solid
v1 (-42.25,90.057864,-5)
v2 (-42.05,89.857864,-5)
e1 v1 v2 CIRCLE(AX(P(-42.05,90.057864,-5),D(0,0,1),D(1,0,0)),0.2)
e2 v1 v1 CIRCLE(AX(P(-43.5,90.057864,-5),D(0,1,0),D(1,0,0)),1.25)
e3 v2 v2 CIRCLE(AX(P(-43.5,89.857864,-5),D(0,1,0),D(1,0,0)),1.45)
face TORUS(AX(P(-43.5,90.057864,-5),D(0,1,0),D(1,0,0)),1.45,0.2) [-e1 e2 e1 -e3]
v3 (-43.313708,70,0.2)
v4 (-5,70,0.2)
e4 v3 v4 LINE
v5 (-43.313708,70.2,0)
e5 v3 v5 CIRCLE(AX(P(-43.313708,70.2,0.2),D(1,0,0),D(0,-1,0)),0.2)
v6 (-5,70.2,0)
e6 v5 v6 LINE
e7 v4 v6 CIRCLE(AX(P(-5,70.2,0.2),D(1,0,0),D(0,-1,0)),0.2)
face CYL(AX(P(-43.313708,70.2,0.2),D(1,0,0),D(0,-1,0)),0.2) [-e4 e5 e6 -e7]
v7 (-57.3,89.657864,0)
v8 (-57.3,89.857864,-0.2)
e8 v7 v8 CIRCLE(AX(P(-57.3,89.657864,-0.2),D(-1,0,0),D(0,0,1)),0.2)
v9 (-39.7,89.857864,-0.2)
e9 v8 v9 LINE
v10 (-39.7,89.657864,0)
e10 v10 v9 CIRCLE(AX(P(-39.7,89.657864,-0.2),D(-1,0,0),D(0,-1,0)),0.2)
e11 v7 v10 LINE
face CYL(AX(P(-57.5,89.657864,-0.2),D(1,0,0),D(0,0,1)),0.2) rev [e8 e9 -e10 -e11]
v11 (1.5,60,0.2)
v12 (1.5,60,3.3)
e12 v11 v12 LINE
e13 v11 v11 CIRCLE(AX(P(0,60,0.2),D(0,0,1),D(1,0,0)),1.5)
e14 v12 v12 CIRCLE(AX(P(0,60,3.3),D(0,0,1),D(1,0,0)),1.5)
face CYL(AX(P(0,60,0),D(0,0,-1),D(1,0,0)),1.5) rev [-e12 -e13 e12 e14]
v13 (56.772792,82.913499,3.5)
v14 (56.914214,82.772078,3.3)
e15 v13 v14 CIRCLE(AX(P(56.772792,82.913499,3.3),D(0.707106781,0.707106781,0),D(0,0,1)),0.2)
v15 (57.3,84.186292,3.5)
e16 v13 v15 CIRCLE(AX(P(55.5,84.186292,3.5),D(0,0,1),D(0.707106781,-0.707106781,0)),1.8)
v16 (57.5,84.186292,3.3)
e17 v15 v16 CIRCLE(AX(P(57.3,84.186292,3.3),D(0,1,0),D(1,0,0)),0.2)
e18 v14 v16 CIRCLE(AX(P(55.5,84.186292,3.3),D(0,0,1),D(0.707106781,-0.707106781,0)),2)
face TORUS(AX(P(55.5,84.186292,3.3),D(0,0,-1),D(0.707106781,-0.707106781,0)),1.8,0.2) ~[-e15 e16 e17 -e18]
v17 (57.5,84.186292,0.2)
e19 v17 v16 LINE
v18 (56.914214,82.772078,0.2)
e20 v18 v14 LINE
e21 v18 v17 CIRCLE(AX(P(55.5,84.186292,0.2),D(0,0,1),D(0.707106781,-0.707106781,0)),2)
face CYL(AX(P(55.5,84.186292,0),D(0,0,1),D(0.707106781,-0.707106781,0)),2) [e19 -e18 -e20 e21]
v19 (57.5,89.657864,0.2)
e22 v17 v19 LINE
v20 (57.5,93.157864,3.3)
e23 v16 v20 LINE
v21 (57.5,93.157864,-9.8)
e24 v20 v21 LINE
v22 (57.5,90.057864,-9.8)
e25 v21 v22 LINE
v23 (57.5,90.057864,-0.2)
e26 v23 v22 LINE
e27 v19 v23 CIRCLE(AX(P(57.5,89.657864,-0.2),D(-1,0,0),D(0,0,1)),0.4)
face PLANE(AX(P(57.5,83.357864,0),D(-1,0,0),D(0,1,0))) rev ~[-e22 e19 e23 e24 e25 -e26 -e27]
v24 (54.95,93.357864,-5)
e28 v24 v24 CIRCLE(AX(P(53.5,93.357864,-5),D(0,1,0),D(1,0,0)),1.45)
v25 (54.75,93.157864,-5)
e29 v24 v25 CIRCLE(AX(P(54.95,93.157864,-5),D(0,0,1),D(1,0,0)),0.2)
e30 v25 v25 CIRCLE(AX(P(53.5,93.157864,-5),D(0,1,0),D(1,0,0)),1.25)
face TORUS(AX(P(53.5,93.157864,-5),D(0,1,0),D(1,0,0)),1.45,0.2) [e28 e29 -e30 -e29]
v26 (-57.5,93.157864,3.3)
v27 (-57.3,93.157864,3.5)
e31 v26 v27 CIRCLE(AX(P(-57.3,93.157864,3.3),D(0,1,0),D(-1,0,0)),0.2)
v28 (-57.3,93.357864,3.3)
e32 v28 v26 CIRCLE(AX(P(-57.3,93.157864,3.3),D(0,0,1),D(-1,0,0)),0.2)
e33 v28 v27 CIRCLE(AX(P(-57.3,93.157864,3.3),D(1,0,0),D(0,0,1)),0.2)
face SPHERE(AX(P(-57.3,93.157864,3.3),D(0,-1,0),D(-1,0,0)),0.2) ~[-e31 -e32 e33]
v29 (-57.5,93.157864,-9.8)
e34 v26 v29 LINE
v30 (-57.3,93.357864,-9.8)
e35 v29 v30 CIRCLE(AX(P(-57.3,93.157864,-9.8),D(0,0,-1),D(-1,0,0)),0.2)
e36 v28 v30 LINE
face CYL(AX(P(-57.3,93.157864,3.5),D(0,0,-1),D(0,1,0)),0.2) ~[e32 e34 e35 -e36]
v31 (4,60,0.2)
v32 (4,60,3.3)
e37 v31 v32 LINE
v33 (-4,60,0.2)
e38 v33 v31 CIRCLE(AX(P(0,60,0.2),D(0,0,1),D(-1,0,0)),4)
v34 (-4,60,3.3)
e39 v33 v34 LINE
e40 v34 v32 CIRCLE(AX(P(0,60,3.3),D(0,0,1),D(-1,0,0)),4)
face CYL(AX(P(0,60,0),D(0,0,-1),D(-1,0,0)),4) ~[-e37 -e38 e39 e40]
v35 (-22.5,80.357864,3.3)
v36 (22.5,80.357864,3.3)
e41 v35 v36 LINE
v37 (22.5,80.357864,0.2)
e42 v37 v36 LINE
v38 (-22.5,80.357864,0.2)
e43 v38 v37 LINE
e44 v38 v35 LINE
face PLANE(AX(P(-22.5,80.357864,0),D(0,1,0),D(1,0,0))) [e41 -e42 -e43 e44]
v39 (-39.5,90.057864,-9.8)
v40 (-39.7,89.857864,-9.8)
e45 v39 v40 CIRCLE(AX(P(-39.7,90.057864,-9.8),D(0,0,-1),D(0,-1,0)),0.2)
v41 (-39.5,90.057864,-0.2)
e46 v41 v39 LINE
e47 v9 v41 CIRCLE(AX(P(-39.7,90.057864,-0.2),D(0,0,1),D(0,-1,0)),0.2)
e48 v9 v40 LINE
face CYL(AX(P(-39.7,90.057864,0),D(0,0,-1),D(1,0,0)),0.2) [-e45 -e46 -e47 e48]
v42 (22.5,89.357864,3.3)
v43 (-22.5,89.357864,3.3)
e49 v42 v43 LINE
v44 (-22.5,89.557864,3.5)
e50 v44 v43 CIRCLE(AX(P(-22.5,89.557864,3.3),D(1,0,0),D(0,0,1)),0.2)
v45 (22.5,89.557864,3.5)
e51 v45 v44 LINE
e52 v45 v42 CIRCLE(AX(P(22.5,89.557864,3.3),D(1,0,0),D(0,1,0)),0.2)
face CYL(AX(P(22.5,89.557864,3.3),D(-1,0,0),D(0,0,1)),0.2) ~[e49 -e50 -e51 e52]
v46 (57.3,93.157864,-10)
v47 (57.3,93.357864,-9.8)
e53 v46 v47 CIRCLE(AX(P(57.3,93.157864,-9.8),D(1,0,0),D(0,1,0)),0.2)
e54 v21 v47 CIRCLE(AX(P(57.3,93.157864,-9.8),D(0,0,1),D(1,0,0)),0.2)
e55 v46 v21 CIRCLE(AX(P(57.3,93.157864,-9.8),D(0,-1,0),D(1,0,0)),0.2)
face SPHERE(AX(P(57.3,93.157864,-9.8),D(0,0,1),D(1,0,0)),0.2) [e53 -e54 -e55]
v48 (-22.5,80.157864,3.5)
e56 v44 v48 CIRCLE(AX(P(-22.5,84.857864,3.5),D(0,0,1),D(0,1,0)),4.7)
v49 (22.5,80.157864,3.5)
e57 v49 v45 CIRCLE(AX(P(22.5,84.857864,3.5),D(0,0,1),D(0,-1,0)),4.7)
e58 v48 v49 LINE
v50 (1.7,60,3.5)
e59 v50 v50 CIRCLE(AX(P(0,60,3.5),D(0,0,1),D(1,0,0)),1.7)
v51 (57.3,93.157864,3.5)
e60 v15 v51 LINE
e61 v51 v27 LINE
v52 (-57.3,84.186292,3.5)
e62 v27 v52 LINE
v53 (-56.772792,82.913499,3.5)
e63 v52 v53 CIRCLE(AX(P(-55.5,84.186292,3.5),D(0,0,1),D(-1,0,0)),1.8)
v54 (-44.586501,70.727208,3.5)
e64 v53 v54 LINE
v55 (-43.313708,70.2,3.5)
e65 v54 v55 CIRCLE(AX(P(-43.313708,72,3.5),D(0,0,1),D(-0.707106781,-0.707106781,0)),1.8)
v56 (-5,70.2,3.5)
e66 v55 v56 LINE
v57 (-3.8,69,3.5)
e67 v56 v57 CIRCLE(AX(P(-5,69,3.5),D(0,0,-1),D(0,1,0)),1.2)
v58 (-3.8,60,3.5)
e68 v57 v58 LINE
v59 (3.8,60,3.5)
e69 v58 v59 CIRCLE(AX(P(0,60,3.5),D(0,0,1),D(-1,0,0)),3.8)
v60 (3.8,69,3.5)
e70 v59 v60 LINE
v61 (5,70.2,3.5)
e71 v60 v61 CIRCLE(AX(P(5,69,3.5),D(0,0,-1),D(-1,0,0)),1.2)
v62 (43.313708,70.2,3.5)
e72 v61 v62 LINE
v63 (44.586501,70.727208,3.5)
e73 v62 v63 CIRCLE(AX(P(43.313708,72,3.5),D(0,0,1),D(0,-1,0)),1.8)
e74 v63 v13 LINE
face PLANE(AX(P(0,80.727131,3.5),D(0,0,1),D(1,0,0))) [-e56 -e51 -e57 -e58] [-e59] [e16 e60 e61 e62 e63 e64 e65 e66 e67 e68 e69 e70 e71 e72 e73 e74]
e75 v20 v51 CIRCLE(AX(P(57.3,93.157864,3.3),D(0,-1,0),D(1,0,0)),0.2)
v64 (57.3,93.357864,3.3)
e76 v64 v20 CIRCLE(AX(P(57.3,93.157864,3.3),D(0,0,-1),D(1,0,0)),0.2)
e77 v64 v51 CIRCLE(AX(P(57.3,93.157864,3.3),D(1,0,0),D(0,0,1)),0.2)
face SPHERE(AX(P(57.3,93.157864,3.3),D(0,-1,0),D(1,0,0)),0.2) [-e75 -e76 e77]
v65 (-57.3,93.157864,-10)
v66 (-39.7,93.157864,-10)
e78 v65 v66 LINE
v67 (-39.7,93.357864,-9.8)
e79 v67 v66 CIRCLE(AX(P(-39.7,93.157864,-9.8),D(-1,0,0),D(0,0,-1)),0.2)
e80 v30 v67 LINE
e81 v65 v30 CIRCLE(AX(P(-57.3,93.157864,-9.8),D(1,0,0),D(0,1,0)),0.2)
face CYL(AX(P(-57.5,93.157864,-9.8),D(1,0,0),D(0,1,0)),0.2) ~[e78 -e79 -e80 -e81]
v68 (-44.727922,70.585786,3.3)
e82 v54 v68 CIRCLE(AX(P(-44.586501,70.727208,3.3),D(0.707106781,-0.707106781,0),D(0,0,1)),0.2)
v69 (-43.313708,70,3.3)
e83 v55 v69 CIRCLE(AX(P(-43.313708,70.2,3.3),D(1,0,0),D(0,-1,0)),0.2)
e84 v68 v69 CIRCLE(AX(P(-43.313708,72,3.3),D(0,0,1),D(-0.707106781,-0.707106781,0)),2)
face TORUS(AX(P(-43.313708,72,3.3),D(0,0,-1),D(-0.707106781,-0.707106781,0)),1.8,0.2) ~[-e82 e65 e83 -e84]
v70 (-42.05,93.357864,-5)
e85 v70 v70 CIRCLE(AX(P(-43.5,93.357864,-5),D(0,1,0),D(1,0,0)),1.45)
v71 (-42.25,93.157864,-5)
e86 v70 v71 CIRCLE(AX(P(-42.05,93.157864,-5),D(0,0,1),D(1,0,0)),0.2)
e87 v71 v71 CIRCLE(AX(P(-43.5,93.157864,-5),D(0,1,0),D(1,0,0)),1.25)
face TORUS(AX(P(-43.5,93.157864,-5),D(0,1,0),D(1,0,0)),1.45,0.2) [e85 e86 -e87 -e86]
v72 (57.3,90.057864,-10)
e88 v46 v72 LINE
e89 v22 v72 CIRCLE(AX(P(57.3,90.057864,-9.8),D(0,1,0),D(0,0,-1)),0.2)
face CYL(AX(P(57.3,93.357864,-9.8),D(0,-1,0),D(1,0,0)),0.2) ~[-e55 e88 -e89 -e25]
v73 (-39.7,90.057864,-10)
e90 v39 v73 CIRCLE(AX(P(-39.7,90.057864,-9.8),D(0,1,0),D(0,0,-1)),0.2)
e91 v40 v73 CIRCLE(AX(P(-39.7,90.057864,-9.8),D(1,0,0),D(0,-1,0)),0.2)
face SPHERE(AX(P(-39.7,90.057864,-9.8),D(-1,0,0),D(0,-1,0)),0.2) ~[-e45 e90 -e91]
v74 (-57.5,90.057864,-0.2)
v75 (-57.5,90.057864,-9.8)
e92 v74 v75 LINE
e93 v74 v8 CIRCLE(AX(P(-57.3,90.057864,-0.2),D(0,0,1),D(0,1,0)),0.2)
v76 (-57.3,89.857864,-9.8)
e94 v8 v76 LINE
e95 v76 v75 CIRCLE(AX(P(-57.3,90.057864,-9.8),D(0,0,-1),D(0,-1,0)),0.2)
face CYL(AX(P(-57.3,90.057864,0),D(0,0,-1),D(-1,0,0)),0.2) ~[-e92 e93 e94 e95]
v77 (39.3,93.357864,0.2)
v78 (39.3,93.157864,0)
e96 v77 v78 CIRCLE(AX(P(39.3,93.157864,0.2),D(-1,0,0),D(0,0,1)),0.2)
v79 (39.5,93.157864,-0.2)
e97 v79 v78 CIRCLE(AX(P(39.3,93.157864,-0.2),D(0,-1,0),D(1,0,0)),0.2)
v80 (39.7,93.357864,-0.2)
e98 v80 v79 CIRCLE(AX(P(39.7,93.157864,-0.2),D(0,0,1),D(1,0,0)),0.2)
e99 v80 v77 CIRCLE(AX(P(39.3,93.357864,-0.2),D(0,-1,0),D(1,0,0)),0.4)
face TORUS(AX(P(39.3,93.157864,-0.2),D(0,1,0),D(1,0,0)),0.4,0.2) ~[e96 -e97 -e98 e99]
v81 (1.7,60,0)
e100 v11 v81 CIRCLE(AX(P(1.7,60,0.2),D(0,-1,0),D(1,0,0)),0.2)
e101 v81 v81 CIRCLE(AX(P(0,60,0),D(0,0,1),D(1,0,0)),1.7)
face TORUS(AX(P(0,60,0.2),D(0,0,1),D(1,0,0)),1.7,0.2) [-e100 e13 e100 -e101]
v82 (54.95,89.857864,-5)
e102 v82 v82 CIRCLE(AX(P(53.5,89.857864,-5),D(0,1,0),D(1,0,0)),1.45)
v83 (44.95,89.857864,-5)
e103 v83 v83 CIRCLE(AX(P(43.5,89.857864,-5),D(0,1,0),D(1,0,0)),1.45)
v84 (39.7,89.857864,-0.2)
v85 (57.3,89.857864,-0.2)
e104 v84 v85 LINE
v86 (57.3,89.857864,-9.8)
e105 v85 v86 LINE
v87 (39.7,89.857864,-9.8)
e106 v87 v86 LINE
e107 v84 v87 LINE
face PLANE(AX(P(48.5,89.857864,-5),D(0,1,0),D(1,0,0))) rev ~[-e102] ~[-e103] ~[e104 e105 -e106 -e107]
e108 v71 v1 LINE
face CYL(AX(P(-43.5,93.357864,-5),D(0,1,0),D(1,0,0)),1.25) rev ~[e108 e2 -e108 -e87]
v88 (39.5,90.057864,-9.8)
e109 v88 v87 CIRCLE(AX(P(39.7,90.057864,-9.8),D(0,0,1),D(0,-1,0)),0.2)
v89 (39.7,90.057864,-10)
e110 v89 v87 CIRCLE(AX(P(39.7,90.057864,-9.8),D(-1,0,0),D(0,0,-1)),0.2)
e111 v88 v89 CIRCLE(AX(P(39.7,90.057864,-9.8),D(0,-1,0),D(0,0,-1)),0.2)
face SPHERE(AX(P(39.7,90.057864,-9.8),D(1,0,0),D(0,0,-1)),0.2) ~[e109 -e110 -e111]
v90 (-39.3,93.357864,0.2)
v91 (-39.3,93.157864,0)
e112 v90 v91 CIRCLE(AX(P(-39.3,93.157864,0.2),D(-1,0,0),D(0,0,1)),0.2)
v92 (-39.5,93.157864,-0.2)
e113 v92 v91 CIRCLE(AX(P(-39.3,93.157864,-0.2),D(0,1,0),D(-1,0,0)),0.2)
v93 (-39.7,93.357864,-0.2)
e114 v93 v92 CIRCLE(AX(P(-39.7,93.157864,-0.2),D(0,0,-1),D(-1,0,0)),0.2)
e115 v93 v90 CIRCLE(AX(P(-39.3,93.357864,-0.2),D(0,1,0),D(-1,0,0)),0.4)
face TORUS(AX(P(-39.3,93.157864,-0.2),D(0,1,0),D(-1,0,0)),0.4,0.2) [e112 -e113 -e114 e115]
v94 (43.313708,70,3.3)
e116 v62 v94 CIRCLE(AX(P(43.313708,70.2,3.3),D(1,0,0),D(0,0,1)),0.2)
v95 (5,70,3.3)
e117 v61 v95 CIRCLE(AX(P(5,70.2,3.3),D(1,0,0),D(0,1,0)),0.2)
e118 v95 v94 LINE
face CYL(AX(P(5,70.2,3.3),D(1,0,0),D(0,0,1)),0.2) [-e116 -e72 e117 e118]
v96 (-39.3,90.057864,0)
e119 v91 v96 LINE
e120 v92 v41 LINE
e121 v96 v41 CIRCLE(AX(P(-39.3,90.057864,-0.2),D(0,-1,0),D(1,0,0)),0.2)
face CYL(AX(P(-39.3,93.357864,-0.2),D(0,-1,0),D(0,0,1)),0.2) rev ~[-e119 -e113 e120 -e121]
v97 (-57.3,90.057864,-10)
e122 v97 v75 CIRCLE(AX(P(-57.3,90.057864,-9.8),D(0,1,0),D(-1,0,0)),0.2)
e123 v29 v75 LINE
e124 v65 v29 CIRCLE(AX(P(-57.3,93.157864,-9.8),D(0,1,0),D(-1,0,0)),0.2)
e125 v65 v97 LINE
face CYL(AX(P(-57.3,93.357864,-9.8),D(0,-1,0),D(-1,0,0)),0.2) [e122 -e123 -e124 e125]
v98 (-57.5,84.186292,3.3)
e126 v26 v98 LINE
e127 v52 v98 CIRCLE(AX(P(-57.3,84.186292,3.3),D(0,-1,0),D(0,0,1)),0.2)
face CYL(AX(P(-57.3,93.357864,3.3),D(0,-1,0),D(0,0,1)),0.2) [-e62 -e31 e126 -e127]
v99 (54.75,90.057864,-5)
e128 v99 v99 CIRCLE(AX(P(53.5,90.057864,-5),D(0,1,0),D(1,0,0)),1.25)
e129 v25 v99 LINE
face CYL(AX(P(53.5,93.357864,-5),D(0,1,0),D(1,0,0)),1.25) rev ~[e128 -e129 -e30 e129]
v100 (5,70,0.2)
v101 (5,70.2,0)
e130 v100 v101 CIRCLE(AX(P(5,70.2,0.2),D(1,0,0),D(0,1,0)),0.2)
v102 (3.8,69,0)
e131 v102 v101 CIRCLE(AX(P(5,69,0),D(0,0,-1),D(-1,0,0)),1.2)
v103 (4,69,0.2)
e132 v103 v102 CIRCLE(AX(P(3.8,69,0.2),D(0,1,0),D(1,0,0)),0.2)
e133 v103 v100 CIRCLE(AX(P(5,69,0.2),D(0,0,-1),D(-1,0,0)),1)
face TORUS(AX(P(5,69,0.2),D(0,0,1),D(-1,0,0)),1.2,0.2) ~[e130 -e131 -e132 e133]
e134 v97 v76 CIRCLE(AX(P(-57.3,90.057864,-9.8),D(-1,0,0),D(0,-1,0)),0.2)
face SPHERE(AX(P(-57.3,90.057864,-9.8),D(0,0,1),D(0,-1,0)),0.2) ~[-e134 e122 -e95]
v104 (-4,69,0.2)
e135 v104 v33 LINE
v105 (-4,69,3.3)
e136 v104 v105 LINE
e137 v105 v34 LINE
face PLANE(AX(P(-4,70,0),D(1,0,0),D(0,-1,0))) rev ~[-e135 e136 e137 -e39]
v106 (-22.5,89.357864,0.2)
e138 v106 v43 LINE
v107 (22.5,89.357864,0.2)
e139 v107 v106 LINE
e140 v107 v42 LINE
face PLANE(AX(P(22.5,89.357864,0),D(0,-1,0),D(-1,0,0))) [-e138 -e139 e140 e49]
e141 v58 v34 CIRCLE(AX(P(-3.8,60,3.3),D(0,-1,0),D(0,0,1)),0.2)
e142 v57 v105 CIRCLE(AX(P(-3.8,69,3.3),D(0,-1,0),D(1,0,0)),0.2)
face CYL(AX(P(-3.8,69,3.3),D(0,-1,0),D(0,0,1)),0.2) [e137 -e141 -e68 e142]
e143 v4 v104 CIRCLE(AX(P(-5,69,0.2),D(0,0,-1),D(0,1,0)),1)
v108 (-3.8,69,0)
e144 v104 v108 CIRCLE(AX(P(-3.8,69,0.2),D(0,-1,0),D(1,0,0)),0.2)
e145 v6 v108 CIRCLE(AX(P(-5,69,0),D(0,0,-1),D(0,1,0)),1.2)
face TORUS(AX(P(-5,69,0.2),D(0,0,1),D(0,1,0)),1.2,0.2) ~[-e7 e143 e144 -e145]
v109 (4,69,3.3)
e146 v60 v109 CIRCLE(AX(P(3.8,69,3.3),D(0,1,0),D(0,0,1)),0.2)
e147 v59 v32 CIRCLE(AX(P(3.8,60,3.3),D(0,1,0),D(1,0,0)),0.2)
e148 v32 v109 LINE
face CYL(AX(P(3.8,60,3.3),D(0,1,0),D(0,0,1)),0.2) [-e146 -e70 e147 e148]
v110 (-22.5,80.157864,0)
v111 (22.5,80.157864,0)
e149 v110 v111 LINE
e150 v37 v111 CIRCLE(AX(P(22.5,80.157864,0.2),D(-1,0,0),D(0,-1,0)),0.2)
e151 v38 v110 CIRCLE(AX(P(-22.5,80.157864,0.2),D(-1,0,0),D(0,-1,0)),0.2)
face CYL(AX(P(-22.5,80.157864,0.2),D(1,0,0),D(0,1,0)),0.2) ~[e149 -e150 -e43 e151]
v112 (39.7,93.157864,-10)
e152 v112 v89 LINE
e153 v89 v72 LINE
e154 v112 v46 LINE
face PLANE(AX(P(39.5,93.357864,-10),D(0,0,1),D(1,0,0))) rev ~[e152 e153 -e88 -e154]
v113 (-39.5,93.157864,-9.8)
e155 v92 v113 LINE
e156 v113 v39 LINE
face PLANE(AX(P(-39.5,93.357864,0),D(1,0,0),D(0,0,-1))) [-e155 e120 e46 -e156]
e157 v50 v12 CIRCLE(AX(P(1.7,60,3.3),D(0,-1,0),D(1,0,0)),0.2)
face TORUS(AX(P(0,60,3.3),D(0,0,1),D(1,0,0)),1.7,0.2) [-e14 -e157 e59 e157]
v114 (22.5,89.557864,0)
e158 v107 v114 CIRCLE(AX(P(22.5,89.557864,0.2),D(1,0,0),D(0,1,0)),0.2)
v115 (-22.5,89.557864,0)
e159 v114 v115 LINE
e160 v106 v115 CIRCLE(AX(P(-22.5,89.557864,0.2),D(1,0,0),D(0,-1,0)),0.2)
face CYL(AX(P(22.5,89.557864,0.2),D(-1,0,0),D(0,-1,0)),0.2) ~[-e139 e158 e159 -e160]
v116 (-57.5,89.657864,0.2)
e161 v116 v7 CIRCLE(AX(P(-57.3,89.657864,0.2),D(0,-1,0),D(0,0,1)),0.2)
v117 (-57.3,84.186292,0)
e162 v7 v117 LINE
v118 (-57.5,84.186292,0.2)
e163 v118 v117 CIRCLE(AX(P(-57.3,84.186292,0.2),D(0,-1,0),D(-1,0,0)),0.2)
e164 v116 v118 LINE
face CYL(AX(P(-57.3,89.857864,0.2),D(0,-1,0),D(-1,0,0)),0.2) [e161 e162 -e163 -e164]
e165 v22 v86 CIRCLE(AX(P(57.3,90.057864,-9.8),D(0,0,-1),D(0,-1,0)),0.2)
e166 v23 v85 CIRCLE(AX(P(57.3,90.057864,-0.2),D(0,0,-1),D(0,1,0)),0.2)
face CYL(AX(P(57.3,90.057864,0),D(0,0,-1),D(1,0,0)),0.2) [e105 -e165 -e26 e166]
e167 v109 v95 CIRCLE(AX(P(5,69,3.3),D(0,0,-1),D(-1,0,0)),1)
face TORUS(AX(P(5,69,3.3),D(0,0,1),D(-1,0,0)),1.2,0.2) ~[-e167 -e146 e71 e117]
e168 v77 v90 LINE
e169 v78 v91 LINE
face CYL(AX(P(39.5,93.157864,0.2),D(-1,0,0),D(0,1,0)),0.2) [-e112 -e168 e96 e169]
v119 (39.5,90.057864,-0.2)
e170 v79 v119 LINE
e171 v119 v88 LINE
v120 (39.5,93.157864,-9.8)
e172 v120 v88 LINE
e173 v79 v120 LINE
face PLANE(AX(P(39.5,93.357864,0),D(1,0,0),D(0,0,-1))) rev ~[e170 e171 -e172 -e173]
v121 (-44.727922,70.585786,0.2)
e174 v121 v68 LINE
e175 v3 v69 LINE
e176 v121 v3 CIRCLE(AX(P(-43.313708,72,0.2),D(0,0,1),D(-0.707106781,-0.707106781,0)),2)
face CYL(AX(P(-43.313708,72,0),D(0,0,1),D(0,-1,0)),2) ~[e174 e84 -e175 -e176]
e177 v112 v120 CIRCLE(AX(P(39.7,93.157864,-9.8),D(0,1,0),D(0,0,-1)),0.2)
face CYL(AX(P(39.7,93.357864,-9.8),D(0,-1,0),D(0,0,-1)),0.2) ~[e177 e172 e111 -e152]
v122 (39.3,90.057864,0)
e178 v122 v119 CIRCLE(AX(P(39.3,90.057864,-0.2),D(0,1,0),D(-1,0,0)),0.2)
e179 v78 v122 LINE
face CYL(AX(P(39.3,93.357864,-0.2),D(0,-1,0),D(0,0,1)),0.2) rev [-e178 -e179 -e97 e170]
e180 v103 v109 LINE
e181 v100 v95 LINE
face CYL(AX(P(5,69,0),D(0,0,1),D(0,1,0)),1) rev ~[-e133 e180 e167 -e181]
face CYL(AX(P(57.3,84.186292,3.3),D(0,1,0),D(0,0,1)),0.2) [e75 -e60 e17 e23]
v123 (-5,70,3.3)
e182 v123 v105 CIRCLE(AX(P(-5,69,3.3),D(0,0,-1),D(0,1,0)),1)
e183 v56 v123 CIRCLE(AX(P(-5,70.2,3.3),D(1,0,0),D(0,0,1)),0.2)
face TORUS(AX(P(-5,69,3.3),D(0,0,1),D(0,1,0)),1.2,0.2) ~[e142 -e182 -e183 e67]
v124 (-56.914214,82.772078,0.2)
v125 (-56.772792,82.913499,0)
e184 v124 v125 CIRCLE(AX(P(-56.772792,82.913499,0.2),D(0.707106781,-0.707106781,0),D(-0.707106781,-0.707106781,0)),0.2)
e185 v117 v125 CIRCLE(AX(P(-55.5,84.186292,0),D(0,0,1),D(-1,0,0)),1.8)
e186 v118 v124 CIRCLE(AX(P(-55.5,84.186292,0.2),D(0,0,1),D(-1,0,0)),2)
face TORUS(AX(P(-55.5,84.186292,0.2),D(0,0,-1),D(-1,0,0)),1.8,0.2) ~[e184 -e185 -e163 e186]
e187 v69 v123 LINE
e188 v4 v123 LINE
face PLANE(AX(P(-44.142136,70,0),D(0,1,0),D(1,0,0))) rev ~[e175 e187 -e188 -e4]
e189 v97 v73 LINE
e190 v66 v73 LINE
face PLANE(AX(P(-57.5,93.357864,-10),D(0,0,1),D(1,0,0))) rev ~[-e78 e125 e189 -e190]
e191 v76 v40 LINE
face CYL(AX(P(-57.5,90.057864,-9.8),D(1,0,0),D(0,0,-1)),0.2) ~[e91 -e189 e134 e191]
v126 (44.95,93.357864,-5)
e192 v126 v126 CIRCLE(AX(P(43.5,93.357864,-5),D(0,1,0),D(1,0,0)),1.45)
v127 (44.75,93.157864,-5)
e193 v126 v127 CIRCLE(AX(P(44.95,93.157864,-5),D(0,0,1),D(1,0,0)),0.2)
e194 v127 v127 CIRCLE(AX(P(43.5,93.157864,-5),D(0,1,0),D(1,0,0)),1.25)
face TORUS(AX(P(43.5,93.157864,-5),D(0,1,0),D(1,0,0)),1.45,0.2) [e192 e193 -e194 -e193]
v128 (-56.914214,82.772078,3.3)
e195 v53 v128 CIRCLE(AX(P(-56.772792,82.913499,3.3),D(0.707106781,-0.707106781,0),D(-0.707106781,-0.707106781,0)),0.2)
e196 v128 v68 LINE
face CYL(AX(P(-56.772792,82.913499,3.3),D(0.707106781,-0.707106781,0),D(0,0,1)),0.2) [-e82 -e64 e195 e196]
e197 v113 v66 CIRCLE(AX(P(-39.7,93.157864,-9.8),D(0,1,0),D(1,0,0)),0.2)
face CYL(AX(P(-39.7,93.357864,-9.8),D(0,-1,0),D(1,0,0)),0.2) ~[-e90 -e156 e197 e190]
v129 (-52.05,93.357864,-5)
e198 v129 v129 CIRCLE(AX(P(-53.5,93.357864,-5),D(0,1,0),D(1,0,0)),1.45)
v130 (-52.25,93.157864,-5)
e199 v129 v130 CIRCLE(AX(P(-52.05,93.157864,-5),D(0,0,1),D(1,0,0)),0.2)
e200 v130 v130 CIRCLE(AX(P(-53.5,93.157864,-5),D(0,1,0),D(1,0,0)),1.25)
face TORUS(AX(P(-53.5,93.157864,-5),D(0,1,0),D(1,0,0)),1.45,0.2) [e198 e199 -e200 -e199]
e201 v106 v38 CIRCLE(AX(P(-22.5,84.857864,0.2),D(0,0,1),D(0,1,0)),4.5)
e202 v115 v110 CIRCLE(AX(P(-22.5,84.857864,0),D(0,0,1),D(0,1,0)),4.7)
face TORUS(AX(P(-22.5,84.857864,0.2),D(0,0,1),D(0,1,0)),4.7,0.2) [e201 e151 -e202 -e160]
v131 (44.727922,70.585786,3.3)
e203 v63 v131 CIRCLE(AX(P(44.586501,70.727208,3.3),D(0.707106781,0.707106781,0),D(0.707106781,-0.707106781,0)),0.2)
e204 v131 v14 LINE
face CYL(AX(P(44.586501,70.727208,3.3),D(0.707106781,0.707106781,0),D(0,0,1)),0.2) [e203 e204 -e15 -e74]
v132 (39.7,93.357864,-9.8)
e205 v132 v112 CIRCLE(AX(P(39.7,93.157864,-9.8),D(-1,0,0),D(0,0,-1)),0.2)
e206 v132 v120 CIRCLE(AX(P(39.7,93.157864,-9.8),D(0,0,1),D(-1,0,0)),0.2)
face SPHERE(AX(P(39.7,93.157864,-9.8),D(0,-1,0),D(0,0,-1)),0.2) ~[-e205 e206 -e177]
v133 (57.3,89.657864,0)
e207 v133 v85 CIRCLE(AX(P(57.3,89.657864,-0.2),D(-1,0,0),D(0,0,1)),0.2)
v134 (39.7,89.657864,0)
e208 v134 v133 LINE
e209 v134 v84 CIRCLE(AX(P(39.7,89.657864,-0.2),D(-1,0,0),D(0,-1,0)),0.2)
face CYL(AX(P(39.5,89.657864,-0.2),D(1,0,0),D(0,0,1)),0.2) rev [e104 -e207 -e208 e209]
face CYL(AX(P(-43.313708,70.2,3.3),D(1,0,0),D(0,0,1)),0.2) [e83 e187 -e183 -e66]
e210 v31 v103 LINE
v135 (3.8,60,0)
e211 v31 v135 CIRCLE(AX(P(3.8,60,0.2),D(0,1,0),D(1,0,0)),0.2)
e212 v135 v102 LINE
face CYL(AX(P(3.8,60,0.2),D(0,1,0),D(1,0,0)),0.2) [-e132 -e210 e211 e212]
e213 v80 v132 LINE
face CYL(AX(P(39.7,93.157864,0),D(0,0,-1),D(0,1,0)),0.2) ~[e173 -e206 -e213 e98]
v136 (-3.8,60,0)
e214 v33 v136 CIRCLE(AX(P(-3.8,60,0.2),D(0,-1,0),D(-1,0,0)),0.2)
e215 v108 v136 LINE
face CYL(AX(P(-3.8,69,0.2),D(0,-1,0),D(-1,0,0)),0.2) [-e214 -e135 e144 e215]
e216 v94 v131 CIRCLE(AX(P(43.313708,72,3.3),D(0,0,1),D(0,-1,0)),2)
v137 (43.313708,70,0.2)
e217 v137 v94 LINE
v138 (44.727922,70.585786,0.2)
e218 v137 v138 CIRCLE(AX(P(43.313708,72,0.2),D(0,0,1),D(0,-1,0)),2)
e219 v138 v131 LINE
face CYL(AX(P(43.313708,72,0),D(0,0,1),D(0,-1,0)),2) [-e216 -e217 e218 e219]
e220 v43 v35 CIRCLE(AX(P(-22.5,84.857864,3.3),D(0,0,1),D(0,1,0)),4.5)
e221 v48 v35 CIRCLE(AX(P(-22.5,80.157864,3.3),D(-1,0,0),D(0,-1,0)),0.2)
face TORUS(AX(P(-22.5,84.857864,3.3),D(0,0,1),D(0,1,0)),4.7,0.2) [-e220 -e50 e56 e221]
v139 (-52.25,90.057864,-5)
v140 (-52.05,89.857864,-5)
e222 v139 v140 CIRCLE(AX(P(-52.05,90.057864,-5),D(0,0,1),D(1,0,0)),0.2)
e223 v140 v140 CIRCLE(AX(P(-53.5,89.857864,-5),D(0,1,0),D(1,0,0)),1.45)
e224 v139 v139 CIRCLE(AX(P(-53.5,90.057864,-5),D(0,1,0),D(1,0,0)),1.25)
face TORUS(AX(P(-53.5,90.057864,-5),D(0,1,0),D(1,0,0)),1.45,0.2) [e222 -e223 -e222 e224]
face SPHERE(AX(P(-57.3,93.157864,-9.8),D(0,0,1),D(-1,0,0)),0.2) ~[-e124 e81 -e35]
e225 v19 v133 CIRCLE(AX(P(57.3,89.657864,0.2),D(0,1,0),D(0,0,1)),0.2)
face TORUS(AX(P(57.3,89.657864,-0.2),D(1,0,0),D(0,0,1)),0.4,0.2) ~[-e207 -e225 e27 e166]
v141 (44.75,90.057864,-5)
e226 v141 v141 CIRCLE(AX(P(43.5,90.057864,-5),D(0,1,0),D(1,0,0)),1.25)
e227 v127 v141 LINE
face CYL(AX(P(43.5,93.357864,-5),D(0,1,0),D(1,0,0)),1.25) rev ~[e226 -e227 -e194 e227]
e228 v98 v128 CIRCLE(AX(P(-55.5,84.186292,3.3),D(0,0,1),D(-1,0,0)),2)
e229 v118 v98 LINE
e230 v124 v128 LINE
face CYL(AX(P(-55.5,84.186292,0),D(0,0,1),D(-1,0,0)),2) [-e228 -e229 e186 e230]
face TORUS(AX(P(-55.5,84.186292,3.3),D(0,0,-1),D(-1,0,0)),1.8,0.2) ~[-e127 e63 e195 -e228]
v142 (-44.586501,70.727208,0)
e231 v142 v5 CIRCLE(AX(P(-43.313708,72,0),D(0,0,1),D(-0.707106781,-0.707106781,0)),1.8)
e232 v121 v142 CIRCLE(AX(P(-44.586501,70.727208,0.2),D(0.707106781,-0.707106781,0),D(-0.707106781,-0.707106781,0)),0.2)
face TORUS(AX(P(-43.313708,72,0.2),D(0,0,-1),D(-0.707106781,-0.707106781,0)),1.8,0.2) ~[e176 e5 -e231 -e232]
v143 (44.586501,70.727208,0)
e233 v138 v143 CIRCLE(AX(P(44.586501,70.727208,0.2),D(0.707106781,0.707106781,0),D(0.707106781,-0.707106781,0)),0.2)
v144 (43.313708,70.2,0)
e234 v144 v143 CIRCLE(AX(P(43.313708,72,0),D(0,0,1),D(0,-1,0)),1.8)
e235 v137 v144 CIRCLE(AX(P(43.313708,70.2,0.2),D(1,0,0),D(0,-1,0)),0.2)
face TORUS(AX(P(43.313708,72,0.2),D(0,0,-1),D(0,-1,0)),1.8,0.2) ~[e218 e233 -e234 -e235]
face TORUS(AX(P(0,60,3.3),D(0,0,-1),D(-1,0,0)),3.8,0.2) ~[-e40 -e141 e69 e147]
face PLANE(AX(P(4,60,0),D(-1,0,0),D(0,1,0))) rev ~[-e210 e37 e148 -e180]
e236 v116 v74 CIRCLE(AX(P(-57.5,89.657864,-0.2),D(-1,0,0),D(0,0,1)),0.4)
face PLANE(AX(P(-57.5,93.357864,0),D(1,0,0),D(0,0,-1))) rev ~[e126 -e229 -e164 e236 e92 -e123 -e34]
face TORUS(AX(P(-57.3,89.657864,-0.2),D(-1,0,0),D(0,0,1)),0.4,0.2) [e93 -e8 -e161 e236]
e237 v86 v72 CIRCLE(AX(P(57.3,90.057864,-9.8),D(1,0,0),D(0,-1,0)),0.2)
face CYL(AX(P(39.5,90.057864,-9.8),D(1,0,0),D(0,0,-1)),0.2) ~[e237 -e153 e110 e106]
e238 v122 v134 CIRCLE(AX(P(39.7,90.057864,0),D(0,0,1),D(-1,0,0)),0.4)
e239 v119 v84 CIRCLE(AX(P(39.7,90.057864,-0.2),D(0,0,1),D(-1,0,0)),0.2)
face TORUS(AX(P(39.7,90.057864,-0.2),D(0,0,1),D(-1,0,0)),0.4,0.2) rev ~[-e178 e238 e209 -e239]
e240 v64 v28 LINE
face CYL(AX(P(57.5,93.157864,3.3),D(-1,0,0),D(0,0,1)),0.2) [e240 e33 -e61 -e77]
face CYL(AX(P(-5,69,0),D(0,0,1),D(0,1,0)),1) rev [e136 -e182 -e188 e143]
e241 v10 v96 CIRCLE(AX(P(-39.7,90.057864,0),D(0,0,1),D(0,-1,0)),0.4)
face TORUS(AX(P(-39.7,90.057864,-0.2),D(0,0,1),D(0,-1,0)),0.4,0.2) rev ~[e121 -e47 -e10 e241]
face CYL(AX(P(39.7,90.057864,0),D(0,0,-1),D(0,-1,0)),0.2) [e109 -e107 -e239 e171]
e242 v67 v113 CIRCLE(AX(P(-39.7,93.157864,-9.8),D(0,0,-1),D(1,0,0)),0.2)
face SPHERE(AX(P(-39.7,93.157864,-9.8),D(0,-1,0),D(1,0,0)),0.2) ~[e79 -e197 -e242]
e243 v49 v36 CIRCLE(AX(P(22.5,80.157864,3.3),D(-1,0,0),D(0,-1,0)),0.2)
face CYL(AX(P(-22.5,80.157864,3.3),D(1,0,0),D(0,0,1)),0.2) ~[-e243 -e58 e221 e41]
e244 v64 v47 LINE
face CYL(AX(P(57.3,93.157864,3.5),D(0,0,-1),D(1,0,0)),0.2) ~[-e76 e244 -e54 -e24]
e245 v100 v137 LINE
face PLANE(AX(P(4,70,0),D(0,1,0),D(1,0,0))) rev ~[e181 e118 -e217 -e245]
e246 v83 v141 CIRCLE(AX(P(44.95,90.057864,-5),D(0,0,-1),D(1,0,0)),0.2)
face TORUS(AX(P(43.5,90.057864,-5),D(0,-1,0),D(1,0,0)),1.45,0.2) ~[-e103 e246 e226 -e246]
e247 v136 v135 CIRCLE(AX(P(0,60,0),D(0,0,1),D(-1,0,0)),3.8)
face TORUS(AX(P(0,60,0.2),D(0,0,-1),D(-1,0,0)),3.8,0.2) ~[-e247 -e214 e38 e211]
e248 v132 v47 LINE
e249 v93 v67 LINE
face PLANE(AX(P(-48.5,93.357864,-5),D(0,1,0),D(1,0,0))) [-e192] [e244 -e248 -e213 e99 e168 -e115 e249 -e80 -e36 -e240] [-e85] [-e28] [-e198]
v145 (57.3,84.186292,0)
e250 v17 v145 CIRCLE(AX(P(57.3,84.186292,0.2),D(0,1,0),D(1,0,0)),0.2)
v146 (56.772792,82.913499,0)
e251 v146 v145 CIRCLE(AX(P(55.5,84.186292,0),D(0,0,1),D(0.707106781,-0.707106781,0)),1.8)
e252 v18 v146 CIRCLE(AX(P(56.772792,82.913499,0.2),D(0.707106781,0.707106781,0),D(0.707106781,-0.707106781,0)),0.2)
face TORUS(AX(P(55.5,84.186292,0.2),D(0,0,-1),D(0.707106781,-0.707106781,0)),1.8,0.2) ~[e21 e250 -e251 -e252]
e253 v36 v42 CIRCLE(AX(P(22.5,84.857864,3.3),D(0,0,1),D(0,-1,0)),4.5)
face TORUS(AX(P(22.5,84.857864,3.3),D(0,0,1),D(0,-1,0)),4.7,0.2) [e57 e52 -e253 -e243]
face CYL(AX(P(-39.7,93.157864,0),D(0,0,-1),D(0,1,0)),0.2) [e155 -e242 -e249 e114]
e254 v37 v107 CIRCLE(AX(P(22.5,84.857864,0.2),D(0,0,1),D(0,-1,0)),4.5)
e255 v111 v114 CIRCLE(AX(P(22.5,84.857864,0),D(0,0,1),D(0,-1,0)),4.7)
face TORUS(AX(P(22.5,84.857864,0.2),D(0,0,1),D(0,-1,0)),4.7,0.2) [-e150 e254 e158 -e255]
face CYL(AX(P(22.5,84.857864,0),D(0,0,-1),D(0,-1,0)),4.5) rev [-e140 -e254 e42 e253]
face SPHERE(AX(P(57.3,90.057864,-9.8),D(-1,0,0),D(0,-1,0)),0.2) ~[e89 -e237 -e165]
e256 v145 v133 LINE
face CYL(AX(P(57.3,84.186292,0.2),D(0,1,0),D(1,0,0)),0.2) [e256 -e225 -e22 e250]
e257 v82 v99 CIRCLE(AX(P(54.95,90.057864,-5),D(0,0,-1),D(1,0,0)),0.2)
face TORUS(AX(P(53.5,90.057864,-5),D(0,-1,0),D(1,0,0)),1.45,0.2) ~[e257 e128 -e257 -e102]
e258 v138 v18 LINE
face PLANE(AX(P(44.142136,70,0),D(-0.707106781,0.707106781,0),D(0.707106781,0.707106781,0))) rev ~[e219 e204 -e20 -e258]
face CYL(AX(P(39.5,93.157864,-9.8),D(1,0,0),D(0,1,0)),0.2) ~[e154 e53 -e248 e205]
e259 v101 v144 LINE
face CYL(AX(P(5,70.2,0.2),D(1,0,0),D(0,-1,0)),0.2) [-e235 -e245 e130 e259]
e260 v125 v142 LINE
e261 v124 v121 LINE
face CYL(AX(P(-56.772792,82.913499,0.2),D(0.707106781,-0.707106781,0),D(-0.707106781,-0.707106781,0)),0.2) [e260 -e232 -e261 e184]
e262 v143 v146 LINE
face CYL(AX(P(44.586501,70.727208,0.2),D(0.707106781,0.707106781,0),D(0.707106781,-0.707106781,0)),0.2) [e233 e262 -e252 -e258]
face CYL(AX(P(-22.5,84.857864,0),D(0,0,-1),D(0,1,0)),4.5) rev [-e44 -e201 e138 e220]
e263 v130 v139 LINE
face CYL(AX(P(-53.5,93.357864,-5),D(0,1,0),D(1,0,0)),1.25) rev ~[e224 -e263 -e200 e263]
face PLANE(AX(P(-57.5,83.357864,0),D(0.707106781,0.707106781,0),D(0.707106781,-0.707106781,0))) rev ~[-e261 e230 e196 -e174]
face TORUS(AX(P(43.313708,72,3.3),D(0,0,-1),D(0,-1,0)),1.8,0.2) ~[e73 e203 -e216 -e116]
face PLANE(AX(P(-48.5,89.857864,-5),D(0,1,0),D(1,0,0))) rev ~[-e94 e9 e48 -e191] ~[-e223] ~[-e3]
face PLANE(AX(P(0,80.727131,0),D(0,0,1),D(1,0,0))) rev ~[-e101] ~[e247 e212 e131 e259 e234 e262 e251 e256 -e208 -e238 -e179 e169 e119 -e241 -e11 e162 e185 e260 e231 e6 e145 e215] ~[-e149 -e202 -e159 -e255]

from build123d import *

# Parameters (mm, degrees)
SKETCH6_R           = 1.5
BOSS_EXTRUDE1_DEPTH = 3.5
SKETCH7_W           = 18
SKETCH7_H           = 10
SKETCH7_R           = 1.25
BOSS_EXTRUDE2_DEPTH = 3.5
FILLET1_R           = 2
FILLET2_R           = 1
FILLET3_R           = 0.2


with BuildPart() as part:
    # Sketch6 → Boss-Extrude1 (new body)
    with BuildSketch(Plane.XY):
        with BuildLine():
            Line((57.5, 93.357864376), (-57.5, 93.357864376))
            Line((-57.5, 93.357864376), (-57.5, 83.357864376))
            Line((-57.5, 83.357864376), (-44.142135624, 70))
            Line((-44.142135624, 70), (-4, 70))
            Line((-4, 70), (-4, 60))
            ThreePointArc((-4, 60), (0, 56), (4, 60))
            Line((4, 60), (4, 70))
            Line((4, 70), (44.142135624, 70))
            Line((44.142135624, 70), (57.5, 83.357864376))
            Line((57.5, 83.357864376), (57.5, 93.357864376))
        make_face()
        with Locations((0, 60)):
            Circle(SKETCH6_R, mode=Mode.SUBTRACT)
        with BuildLine():
            Line((-22.5, 80.357864376), (22.5, 80.357864376))
            ThreePointArc((22.5, 80.357864376), (27, 84.857864376), (22.5, 89.357864376))
            Line((22.5, 89.357864376), (-22.5, 89.357864376))
            ThreePointArc((-22.5, 89.357864376), (-27, 84.857864376), (-22.5, 80.357864376))
        make_face(mode=Mode.SUBTRACT)
    extrude(amount=BOSS_EXTRUDE1_DEPTH)

    # Sketch7 → Boss-Extrude2 (add)
    with BuildSketch(Plane(origin=(0, 93.357864376, 0), x_dir=(1, 0, 0), z_dir=(0, 1, 0))):
        with Locations((-48.5, 5)):
            Rectangle(SKETCH7_W, SKETCH7_H)
        with Locations((-53.5, 5)):
            Circle(SKETCH7_R, mode=Mode.SUBTRACT)
        with Locations((-43.5, 5)):
            Circle(SKETCH7_R, mode=Mode.SUBTRACT)
        with Locations((48.5, 5)):
            Rectangle(SKETCH7_W, SKETCH7_H)
        with Locations((43.5, 5)):
            Circle(SKETCH7_R, mode=Mode.SUBTRACT)
        with Locations((53.5, 5)):
            Circle(SKETCH7_R, mode=Mode.SUBTRACT)
    extrude(amount=-BOSS_EXTRUDE2_DEPTH)

    # Fillet1
    fillet1_edges = [part.edges().sort_by_distance(p)[0] for p in [
        (57.5, 83.357864376, 1.75),
        (44.142135624, 70, 1.75),
        (-44.142135624, 70, 1.75),
        (-57.5, 83.357864376, 1.75),
    ]]
    fillet(fillet1_edges, radius=FILLET1_R)

    # Fillet2
    fillet2_edges = [part.edges().sort_by_distance(p)[0] for p in [
        (4, 70, 1.75),
        (-4, 70, 1.75),
    ]]
    fillet(fillet2_edges, radius=FILLET2_R)

    # Fillet3
    fillet3_edges = [part.edges().sort_by_distance(p)[0] for p in [
        (-4, 64.5, 0),
        (-4, 64.5, 3.5),
        (24.156854249, 70, 0),
        (24.156854249, 70, 3.5),
        (-4.292893219, 69.707106781, 0),
        (-4.292893219, 69.707106781, 3.5),
        (4.292893219, 69.707106781, 0),
        (4.292893219, 69.707106781, 3.5),
        (4, 64.5, 0),
        (0, 56, 0),
        (-57.5, 93.357864376, -3.25),
        (57.5, 93.357864376, -3.25),
        (0, 56, 3.5),
        (4, 64.5, 3.5),
        (-1.5, 60, 0),
        (-1.5, 60, 3.5),
        (27, 84.857864376, 0),
        (0, 89.357864376, 0),
        (-27, 84.857864376, 0),
        (0, 80.357864376, 0),
        (27, 84.857864376, 3.5),
        (0, 89.357864376, 3.5),
        (-27, 84.857864376, 3.5),
        (0, 80.357864376, 3.5),
        (0, 93.357864376, 3.5),
        (-57.5, 87.022077939, 0),
        (-57.5, 88.772077939, 3.5),
        (-57.5, 89.857864376, -5),
        (-48.5, 89.857864376, -10),
        (-57.5, 91.607864376, -10),
        (-39.5, 89.857864376, -5),
        (-39.5, 91.607864376, -10),
        (-48.5, 89.857864376, 0),
        (-39.5, 91.607864376, 0),
        (-44.75, 89.857864376, -5),
        (-54.75, 89.857864376, -5),
        (-39.5, 93.357864376, -5),
        (-48.5, 93.357864376, -10),
        (-54.75, 93.357864376, -5),
        (-44.75, 93.357864376, -5),
        (0, 93.357864376, 0),
        (48.5, 89.857864376, -10),
        (39.5, 91.607864376, -10),
        (57.5, 89.857864376, -5),
        (57.5, 91.607864376, -10),
        (48.5, 89.857864376, 0),
        (39.5, 89.857864376, -5),
        (39.5, 91.607864376, 0),
        (52.25, 89.857864376, -5),
        (42.25, 89.857864376, -5),
        (48.5, 93.357864376, -10),
        (39.5, 93.357864376, -5),
        (42.25, 93.357864376, -5),
        (52.25, 93.357864376, -5),
        (50.821067812, 76.678932188, 0),
        (50.821067812, 76.678932188, 3.5),
        (57.5, 87.022077939, 0),
        (-24.156854249, 70, 0),
        (-50.821067812, 76.678932188, 0),
        (-57.347759065, 83.420924636, 0),
        (-44.079075364, 70.152240935, 0),
        (57.347759065, 83.420924636, 0),
        (44.079075364, 70.152240935, 0),
        (-50.821067812, 76.678932188, 3.5),
        (-24.156854249, 70, 3.5),
        (57.5, 88.772077939, 3.5),
        (-57.347759065, 83.420924636, 3.5),
        (-44.079075364, 70.152240935, 3.5),
        (57.347759065, 83.420924636, 3.5),
        (44.079075364, 70.152240935, 3.5),
    ]]
    fillet(fillet3_edges, radius=FILLET3_R)


solid = part.part
